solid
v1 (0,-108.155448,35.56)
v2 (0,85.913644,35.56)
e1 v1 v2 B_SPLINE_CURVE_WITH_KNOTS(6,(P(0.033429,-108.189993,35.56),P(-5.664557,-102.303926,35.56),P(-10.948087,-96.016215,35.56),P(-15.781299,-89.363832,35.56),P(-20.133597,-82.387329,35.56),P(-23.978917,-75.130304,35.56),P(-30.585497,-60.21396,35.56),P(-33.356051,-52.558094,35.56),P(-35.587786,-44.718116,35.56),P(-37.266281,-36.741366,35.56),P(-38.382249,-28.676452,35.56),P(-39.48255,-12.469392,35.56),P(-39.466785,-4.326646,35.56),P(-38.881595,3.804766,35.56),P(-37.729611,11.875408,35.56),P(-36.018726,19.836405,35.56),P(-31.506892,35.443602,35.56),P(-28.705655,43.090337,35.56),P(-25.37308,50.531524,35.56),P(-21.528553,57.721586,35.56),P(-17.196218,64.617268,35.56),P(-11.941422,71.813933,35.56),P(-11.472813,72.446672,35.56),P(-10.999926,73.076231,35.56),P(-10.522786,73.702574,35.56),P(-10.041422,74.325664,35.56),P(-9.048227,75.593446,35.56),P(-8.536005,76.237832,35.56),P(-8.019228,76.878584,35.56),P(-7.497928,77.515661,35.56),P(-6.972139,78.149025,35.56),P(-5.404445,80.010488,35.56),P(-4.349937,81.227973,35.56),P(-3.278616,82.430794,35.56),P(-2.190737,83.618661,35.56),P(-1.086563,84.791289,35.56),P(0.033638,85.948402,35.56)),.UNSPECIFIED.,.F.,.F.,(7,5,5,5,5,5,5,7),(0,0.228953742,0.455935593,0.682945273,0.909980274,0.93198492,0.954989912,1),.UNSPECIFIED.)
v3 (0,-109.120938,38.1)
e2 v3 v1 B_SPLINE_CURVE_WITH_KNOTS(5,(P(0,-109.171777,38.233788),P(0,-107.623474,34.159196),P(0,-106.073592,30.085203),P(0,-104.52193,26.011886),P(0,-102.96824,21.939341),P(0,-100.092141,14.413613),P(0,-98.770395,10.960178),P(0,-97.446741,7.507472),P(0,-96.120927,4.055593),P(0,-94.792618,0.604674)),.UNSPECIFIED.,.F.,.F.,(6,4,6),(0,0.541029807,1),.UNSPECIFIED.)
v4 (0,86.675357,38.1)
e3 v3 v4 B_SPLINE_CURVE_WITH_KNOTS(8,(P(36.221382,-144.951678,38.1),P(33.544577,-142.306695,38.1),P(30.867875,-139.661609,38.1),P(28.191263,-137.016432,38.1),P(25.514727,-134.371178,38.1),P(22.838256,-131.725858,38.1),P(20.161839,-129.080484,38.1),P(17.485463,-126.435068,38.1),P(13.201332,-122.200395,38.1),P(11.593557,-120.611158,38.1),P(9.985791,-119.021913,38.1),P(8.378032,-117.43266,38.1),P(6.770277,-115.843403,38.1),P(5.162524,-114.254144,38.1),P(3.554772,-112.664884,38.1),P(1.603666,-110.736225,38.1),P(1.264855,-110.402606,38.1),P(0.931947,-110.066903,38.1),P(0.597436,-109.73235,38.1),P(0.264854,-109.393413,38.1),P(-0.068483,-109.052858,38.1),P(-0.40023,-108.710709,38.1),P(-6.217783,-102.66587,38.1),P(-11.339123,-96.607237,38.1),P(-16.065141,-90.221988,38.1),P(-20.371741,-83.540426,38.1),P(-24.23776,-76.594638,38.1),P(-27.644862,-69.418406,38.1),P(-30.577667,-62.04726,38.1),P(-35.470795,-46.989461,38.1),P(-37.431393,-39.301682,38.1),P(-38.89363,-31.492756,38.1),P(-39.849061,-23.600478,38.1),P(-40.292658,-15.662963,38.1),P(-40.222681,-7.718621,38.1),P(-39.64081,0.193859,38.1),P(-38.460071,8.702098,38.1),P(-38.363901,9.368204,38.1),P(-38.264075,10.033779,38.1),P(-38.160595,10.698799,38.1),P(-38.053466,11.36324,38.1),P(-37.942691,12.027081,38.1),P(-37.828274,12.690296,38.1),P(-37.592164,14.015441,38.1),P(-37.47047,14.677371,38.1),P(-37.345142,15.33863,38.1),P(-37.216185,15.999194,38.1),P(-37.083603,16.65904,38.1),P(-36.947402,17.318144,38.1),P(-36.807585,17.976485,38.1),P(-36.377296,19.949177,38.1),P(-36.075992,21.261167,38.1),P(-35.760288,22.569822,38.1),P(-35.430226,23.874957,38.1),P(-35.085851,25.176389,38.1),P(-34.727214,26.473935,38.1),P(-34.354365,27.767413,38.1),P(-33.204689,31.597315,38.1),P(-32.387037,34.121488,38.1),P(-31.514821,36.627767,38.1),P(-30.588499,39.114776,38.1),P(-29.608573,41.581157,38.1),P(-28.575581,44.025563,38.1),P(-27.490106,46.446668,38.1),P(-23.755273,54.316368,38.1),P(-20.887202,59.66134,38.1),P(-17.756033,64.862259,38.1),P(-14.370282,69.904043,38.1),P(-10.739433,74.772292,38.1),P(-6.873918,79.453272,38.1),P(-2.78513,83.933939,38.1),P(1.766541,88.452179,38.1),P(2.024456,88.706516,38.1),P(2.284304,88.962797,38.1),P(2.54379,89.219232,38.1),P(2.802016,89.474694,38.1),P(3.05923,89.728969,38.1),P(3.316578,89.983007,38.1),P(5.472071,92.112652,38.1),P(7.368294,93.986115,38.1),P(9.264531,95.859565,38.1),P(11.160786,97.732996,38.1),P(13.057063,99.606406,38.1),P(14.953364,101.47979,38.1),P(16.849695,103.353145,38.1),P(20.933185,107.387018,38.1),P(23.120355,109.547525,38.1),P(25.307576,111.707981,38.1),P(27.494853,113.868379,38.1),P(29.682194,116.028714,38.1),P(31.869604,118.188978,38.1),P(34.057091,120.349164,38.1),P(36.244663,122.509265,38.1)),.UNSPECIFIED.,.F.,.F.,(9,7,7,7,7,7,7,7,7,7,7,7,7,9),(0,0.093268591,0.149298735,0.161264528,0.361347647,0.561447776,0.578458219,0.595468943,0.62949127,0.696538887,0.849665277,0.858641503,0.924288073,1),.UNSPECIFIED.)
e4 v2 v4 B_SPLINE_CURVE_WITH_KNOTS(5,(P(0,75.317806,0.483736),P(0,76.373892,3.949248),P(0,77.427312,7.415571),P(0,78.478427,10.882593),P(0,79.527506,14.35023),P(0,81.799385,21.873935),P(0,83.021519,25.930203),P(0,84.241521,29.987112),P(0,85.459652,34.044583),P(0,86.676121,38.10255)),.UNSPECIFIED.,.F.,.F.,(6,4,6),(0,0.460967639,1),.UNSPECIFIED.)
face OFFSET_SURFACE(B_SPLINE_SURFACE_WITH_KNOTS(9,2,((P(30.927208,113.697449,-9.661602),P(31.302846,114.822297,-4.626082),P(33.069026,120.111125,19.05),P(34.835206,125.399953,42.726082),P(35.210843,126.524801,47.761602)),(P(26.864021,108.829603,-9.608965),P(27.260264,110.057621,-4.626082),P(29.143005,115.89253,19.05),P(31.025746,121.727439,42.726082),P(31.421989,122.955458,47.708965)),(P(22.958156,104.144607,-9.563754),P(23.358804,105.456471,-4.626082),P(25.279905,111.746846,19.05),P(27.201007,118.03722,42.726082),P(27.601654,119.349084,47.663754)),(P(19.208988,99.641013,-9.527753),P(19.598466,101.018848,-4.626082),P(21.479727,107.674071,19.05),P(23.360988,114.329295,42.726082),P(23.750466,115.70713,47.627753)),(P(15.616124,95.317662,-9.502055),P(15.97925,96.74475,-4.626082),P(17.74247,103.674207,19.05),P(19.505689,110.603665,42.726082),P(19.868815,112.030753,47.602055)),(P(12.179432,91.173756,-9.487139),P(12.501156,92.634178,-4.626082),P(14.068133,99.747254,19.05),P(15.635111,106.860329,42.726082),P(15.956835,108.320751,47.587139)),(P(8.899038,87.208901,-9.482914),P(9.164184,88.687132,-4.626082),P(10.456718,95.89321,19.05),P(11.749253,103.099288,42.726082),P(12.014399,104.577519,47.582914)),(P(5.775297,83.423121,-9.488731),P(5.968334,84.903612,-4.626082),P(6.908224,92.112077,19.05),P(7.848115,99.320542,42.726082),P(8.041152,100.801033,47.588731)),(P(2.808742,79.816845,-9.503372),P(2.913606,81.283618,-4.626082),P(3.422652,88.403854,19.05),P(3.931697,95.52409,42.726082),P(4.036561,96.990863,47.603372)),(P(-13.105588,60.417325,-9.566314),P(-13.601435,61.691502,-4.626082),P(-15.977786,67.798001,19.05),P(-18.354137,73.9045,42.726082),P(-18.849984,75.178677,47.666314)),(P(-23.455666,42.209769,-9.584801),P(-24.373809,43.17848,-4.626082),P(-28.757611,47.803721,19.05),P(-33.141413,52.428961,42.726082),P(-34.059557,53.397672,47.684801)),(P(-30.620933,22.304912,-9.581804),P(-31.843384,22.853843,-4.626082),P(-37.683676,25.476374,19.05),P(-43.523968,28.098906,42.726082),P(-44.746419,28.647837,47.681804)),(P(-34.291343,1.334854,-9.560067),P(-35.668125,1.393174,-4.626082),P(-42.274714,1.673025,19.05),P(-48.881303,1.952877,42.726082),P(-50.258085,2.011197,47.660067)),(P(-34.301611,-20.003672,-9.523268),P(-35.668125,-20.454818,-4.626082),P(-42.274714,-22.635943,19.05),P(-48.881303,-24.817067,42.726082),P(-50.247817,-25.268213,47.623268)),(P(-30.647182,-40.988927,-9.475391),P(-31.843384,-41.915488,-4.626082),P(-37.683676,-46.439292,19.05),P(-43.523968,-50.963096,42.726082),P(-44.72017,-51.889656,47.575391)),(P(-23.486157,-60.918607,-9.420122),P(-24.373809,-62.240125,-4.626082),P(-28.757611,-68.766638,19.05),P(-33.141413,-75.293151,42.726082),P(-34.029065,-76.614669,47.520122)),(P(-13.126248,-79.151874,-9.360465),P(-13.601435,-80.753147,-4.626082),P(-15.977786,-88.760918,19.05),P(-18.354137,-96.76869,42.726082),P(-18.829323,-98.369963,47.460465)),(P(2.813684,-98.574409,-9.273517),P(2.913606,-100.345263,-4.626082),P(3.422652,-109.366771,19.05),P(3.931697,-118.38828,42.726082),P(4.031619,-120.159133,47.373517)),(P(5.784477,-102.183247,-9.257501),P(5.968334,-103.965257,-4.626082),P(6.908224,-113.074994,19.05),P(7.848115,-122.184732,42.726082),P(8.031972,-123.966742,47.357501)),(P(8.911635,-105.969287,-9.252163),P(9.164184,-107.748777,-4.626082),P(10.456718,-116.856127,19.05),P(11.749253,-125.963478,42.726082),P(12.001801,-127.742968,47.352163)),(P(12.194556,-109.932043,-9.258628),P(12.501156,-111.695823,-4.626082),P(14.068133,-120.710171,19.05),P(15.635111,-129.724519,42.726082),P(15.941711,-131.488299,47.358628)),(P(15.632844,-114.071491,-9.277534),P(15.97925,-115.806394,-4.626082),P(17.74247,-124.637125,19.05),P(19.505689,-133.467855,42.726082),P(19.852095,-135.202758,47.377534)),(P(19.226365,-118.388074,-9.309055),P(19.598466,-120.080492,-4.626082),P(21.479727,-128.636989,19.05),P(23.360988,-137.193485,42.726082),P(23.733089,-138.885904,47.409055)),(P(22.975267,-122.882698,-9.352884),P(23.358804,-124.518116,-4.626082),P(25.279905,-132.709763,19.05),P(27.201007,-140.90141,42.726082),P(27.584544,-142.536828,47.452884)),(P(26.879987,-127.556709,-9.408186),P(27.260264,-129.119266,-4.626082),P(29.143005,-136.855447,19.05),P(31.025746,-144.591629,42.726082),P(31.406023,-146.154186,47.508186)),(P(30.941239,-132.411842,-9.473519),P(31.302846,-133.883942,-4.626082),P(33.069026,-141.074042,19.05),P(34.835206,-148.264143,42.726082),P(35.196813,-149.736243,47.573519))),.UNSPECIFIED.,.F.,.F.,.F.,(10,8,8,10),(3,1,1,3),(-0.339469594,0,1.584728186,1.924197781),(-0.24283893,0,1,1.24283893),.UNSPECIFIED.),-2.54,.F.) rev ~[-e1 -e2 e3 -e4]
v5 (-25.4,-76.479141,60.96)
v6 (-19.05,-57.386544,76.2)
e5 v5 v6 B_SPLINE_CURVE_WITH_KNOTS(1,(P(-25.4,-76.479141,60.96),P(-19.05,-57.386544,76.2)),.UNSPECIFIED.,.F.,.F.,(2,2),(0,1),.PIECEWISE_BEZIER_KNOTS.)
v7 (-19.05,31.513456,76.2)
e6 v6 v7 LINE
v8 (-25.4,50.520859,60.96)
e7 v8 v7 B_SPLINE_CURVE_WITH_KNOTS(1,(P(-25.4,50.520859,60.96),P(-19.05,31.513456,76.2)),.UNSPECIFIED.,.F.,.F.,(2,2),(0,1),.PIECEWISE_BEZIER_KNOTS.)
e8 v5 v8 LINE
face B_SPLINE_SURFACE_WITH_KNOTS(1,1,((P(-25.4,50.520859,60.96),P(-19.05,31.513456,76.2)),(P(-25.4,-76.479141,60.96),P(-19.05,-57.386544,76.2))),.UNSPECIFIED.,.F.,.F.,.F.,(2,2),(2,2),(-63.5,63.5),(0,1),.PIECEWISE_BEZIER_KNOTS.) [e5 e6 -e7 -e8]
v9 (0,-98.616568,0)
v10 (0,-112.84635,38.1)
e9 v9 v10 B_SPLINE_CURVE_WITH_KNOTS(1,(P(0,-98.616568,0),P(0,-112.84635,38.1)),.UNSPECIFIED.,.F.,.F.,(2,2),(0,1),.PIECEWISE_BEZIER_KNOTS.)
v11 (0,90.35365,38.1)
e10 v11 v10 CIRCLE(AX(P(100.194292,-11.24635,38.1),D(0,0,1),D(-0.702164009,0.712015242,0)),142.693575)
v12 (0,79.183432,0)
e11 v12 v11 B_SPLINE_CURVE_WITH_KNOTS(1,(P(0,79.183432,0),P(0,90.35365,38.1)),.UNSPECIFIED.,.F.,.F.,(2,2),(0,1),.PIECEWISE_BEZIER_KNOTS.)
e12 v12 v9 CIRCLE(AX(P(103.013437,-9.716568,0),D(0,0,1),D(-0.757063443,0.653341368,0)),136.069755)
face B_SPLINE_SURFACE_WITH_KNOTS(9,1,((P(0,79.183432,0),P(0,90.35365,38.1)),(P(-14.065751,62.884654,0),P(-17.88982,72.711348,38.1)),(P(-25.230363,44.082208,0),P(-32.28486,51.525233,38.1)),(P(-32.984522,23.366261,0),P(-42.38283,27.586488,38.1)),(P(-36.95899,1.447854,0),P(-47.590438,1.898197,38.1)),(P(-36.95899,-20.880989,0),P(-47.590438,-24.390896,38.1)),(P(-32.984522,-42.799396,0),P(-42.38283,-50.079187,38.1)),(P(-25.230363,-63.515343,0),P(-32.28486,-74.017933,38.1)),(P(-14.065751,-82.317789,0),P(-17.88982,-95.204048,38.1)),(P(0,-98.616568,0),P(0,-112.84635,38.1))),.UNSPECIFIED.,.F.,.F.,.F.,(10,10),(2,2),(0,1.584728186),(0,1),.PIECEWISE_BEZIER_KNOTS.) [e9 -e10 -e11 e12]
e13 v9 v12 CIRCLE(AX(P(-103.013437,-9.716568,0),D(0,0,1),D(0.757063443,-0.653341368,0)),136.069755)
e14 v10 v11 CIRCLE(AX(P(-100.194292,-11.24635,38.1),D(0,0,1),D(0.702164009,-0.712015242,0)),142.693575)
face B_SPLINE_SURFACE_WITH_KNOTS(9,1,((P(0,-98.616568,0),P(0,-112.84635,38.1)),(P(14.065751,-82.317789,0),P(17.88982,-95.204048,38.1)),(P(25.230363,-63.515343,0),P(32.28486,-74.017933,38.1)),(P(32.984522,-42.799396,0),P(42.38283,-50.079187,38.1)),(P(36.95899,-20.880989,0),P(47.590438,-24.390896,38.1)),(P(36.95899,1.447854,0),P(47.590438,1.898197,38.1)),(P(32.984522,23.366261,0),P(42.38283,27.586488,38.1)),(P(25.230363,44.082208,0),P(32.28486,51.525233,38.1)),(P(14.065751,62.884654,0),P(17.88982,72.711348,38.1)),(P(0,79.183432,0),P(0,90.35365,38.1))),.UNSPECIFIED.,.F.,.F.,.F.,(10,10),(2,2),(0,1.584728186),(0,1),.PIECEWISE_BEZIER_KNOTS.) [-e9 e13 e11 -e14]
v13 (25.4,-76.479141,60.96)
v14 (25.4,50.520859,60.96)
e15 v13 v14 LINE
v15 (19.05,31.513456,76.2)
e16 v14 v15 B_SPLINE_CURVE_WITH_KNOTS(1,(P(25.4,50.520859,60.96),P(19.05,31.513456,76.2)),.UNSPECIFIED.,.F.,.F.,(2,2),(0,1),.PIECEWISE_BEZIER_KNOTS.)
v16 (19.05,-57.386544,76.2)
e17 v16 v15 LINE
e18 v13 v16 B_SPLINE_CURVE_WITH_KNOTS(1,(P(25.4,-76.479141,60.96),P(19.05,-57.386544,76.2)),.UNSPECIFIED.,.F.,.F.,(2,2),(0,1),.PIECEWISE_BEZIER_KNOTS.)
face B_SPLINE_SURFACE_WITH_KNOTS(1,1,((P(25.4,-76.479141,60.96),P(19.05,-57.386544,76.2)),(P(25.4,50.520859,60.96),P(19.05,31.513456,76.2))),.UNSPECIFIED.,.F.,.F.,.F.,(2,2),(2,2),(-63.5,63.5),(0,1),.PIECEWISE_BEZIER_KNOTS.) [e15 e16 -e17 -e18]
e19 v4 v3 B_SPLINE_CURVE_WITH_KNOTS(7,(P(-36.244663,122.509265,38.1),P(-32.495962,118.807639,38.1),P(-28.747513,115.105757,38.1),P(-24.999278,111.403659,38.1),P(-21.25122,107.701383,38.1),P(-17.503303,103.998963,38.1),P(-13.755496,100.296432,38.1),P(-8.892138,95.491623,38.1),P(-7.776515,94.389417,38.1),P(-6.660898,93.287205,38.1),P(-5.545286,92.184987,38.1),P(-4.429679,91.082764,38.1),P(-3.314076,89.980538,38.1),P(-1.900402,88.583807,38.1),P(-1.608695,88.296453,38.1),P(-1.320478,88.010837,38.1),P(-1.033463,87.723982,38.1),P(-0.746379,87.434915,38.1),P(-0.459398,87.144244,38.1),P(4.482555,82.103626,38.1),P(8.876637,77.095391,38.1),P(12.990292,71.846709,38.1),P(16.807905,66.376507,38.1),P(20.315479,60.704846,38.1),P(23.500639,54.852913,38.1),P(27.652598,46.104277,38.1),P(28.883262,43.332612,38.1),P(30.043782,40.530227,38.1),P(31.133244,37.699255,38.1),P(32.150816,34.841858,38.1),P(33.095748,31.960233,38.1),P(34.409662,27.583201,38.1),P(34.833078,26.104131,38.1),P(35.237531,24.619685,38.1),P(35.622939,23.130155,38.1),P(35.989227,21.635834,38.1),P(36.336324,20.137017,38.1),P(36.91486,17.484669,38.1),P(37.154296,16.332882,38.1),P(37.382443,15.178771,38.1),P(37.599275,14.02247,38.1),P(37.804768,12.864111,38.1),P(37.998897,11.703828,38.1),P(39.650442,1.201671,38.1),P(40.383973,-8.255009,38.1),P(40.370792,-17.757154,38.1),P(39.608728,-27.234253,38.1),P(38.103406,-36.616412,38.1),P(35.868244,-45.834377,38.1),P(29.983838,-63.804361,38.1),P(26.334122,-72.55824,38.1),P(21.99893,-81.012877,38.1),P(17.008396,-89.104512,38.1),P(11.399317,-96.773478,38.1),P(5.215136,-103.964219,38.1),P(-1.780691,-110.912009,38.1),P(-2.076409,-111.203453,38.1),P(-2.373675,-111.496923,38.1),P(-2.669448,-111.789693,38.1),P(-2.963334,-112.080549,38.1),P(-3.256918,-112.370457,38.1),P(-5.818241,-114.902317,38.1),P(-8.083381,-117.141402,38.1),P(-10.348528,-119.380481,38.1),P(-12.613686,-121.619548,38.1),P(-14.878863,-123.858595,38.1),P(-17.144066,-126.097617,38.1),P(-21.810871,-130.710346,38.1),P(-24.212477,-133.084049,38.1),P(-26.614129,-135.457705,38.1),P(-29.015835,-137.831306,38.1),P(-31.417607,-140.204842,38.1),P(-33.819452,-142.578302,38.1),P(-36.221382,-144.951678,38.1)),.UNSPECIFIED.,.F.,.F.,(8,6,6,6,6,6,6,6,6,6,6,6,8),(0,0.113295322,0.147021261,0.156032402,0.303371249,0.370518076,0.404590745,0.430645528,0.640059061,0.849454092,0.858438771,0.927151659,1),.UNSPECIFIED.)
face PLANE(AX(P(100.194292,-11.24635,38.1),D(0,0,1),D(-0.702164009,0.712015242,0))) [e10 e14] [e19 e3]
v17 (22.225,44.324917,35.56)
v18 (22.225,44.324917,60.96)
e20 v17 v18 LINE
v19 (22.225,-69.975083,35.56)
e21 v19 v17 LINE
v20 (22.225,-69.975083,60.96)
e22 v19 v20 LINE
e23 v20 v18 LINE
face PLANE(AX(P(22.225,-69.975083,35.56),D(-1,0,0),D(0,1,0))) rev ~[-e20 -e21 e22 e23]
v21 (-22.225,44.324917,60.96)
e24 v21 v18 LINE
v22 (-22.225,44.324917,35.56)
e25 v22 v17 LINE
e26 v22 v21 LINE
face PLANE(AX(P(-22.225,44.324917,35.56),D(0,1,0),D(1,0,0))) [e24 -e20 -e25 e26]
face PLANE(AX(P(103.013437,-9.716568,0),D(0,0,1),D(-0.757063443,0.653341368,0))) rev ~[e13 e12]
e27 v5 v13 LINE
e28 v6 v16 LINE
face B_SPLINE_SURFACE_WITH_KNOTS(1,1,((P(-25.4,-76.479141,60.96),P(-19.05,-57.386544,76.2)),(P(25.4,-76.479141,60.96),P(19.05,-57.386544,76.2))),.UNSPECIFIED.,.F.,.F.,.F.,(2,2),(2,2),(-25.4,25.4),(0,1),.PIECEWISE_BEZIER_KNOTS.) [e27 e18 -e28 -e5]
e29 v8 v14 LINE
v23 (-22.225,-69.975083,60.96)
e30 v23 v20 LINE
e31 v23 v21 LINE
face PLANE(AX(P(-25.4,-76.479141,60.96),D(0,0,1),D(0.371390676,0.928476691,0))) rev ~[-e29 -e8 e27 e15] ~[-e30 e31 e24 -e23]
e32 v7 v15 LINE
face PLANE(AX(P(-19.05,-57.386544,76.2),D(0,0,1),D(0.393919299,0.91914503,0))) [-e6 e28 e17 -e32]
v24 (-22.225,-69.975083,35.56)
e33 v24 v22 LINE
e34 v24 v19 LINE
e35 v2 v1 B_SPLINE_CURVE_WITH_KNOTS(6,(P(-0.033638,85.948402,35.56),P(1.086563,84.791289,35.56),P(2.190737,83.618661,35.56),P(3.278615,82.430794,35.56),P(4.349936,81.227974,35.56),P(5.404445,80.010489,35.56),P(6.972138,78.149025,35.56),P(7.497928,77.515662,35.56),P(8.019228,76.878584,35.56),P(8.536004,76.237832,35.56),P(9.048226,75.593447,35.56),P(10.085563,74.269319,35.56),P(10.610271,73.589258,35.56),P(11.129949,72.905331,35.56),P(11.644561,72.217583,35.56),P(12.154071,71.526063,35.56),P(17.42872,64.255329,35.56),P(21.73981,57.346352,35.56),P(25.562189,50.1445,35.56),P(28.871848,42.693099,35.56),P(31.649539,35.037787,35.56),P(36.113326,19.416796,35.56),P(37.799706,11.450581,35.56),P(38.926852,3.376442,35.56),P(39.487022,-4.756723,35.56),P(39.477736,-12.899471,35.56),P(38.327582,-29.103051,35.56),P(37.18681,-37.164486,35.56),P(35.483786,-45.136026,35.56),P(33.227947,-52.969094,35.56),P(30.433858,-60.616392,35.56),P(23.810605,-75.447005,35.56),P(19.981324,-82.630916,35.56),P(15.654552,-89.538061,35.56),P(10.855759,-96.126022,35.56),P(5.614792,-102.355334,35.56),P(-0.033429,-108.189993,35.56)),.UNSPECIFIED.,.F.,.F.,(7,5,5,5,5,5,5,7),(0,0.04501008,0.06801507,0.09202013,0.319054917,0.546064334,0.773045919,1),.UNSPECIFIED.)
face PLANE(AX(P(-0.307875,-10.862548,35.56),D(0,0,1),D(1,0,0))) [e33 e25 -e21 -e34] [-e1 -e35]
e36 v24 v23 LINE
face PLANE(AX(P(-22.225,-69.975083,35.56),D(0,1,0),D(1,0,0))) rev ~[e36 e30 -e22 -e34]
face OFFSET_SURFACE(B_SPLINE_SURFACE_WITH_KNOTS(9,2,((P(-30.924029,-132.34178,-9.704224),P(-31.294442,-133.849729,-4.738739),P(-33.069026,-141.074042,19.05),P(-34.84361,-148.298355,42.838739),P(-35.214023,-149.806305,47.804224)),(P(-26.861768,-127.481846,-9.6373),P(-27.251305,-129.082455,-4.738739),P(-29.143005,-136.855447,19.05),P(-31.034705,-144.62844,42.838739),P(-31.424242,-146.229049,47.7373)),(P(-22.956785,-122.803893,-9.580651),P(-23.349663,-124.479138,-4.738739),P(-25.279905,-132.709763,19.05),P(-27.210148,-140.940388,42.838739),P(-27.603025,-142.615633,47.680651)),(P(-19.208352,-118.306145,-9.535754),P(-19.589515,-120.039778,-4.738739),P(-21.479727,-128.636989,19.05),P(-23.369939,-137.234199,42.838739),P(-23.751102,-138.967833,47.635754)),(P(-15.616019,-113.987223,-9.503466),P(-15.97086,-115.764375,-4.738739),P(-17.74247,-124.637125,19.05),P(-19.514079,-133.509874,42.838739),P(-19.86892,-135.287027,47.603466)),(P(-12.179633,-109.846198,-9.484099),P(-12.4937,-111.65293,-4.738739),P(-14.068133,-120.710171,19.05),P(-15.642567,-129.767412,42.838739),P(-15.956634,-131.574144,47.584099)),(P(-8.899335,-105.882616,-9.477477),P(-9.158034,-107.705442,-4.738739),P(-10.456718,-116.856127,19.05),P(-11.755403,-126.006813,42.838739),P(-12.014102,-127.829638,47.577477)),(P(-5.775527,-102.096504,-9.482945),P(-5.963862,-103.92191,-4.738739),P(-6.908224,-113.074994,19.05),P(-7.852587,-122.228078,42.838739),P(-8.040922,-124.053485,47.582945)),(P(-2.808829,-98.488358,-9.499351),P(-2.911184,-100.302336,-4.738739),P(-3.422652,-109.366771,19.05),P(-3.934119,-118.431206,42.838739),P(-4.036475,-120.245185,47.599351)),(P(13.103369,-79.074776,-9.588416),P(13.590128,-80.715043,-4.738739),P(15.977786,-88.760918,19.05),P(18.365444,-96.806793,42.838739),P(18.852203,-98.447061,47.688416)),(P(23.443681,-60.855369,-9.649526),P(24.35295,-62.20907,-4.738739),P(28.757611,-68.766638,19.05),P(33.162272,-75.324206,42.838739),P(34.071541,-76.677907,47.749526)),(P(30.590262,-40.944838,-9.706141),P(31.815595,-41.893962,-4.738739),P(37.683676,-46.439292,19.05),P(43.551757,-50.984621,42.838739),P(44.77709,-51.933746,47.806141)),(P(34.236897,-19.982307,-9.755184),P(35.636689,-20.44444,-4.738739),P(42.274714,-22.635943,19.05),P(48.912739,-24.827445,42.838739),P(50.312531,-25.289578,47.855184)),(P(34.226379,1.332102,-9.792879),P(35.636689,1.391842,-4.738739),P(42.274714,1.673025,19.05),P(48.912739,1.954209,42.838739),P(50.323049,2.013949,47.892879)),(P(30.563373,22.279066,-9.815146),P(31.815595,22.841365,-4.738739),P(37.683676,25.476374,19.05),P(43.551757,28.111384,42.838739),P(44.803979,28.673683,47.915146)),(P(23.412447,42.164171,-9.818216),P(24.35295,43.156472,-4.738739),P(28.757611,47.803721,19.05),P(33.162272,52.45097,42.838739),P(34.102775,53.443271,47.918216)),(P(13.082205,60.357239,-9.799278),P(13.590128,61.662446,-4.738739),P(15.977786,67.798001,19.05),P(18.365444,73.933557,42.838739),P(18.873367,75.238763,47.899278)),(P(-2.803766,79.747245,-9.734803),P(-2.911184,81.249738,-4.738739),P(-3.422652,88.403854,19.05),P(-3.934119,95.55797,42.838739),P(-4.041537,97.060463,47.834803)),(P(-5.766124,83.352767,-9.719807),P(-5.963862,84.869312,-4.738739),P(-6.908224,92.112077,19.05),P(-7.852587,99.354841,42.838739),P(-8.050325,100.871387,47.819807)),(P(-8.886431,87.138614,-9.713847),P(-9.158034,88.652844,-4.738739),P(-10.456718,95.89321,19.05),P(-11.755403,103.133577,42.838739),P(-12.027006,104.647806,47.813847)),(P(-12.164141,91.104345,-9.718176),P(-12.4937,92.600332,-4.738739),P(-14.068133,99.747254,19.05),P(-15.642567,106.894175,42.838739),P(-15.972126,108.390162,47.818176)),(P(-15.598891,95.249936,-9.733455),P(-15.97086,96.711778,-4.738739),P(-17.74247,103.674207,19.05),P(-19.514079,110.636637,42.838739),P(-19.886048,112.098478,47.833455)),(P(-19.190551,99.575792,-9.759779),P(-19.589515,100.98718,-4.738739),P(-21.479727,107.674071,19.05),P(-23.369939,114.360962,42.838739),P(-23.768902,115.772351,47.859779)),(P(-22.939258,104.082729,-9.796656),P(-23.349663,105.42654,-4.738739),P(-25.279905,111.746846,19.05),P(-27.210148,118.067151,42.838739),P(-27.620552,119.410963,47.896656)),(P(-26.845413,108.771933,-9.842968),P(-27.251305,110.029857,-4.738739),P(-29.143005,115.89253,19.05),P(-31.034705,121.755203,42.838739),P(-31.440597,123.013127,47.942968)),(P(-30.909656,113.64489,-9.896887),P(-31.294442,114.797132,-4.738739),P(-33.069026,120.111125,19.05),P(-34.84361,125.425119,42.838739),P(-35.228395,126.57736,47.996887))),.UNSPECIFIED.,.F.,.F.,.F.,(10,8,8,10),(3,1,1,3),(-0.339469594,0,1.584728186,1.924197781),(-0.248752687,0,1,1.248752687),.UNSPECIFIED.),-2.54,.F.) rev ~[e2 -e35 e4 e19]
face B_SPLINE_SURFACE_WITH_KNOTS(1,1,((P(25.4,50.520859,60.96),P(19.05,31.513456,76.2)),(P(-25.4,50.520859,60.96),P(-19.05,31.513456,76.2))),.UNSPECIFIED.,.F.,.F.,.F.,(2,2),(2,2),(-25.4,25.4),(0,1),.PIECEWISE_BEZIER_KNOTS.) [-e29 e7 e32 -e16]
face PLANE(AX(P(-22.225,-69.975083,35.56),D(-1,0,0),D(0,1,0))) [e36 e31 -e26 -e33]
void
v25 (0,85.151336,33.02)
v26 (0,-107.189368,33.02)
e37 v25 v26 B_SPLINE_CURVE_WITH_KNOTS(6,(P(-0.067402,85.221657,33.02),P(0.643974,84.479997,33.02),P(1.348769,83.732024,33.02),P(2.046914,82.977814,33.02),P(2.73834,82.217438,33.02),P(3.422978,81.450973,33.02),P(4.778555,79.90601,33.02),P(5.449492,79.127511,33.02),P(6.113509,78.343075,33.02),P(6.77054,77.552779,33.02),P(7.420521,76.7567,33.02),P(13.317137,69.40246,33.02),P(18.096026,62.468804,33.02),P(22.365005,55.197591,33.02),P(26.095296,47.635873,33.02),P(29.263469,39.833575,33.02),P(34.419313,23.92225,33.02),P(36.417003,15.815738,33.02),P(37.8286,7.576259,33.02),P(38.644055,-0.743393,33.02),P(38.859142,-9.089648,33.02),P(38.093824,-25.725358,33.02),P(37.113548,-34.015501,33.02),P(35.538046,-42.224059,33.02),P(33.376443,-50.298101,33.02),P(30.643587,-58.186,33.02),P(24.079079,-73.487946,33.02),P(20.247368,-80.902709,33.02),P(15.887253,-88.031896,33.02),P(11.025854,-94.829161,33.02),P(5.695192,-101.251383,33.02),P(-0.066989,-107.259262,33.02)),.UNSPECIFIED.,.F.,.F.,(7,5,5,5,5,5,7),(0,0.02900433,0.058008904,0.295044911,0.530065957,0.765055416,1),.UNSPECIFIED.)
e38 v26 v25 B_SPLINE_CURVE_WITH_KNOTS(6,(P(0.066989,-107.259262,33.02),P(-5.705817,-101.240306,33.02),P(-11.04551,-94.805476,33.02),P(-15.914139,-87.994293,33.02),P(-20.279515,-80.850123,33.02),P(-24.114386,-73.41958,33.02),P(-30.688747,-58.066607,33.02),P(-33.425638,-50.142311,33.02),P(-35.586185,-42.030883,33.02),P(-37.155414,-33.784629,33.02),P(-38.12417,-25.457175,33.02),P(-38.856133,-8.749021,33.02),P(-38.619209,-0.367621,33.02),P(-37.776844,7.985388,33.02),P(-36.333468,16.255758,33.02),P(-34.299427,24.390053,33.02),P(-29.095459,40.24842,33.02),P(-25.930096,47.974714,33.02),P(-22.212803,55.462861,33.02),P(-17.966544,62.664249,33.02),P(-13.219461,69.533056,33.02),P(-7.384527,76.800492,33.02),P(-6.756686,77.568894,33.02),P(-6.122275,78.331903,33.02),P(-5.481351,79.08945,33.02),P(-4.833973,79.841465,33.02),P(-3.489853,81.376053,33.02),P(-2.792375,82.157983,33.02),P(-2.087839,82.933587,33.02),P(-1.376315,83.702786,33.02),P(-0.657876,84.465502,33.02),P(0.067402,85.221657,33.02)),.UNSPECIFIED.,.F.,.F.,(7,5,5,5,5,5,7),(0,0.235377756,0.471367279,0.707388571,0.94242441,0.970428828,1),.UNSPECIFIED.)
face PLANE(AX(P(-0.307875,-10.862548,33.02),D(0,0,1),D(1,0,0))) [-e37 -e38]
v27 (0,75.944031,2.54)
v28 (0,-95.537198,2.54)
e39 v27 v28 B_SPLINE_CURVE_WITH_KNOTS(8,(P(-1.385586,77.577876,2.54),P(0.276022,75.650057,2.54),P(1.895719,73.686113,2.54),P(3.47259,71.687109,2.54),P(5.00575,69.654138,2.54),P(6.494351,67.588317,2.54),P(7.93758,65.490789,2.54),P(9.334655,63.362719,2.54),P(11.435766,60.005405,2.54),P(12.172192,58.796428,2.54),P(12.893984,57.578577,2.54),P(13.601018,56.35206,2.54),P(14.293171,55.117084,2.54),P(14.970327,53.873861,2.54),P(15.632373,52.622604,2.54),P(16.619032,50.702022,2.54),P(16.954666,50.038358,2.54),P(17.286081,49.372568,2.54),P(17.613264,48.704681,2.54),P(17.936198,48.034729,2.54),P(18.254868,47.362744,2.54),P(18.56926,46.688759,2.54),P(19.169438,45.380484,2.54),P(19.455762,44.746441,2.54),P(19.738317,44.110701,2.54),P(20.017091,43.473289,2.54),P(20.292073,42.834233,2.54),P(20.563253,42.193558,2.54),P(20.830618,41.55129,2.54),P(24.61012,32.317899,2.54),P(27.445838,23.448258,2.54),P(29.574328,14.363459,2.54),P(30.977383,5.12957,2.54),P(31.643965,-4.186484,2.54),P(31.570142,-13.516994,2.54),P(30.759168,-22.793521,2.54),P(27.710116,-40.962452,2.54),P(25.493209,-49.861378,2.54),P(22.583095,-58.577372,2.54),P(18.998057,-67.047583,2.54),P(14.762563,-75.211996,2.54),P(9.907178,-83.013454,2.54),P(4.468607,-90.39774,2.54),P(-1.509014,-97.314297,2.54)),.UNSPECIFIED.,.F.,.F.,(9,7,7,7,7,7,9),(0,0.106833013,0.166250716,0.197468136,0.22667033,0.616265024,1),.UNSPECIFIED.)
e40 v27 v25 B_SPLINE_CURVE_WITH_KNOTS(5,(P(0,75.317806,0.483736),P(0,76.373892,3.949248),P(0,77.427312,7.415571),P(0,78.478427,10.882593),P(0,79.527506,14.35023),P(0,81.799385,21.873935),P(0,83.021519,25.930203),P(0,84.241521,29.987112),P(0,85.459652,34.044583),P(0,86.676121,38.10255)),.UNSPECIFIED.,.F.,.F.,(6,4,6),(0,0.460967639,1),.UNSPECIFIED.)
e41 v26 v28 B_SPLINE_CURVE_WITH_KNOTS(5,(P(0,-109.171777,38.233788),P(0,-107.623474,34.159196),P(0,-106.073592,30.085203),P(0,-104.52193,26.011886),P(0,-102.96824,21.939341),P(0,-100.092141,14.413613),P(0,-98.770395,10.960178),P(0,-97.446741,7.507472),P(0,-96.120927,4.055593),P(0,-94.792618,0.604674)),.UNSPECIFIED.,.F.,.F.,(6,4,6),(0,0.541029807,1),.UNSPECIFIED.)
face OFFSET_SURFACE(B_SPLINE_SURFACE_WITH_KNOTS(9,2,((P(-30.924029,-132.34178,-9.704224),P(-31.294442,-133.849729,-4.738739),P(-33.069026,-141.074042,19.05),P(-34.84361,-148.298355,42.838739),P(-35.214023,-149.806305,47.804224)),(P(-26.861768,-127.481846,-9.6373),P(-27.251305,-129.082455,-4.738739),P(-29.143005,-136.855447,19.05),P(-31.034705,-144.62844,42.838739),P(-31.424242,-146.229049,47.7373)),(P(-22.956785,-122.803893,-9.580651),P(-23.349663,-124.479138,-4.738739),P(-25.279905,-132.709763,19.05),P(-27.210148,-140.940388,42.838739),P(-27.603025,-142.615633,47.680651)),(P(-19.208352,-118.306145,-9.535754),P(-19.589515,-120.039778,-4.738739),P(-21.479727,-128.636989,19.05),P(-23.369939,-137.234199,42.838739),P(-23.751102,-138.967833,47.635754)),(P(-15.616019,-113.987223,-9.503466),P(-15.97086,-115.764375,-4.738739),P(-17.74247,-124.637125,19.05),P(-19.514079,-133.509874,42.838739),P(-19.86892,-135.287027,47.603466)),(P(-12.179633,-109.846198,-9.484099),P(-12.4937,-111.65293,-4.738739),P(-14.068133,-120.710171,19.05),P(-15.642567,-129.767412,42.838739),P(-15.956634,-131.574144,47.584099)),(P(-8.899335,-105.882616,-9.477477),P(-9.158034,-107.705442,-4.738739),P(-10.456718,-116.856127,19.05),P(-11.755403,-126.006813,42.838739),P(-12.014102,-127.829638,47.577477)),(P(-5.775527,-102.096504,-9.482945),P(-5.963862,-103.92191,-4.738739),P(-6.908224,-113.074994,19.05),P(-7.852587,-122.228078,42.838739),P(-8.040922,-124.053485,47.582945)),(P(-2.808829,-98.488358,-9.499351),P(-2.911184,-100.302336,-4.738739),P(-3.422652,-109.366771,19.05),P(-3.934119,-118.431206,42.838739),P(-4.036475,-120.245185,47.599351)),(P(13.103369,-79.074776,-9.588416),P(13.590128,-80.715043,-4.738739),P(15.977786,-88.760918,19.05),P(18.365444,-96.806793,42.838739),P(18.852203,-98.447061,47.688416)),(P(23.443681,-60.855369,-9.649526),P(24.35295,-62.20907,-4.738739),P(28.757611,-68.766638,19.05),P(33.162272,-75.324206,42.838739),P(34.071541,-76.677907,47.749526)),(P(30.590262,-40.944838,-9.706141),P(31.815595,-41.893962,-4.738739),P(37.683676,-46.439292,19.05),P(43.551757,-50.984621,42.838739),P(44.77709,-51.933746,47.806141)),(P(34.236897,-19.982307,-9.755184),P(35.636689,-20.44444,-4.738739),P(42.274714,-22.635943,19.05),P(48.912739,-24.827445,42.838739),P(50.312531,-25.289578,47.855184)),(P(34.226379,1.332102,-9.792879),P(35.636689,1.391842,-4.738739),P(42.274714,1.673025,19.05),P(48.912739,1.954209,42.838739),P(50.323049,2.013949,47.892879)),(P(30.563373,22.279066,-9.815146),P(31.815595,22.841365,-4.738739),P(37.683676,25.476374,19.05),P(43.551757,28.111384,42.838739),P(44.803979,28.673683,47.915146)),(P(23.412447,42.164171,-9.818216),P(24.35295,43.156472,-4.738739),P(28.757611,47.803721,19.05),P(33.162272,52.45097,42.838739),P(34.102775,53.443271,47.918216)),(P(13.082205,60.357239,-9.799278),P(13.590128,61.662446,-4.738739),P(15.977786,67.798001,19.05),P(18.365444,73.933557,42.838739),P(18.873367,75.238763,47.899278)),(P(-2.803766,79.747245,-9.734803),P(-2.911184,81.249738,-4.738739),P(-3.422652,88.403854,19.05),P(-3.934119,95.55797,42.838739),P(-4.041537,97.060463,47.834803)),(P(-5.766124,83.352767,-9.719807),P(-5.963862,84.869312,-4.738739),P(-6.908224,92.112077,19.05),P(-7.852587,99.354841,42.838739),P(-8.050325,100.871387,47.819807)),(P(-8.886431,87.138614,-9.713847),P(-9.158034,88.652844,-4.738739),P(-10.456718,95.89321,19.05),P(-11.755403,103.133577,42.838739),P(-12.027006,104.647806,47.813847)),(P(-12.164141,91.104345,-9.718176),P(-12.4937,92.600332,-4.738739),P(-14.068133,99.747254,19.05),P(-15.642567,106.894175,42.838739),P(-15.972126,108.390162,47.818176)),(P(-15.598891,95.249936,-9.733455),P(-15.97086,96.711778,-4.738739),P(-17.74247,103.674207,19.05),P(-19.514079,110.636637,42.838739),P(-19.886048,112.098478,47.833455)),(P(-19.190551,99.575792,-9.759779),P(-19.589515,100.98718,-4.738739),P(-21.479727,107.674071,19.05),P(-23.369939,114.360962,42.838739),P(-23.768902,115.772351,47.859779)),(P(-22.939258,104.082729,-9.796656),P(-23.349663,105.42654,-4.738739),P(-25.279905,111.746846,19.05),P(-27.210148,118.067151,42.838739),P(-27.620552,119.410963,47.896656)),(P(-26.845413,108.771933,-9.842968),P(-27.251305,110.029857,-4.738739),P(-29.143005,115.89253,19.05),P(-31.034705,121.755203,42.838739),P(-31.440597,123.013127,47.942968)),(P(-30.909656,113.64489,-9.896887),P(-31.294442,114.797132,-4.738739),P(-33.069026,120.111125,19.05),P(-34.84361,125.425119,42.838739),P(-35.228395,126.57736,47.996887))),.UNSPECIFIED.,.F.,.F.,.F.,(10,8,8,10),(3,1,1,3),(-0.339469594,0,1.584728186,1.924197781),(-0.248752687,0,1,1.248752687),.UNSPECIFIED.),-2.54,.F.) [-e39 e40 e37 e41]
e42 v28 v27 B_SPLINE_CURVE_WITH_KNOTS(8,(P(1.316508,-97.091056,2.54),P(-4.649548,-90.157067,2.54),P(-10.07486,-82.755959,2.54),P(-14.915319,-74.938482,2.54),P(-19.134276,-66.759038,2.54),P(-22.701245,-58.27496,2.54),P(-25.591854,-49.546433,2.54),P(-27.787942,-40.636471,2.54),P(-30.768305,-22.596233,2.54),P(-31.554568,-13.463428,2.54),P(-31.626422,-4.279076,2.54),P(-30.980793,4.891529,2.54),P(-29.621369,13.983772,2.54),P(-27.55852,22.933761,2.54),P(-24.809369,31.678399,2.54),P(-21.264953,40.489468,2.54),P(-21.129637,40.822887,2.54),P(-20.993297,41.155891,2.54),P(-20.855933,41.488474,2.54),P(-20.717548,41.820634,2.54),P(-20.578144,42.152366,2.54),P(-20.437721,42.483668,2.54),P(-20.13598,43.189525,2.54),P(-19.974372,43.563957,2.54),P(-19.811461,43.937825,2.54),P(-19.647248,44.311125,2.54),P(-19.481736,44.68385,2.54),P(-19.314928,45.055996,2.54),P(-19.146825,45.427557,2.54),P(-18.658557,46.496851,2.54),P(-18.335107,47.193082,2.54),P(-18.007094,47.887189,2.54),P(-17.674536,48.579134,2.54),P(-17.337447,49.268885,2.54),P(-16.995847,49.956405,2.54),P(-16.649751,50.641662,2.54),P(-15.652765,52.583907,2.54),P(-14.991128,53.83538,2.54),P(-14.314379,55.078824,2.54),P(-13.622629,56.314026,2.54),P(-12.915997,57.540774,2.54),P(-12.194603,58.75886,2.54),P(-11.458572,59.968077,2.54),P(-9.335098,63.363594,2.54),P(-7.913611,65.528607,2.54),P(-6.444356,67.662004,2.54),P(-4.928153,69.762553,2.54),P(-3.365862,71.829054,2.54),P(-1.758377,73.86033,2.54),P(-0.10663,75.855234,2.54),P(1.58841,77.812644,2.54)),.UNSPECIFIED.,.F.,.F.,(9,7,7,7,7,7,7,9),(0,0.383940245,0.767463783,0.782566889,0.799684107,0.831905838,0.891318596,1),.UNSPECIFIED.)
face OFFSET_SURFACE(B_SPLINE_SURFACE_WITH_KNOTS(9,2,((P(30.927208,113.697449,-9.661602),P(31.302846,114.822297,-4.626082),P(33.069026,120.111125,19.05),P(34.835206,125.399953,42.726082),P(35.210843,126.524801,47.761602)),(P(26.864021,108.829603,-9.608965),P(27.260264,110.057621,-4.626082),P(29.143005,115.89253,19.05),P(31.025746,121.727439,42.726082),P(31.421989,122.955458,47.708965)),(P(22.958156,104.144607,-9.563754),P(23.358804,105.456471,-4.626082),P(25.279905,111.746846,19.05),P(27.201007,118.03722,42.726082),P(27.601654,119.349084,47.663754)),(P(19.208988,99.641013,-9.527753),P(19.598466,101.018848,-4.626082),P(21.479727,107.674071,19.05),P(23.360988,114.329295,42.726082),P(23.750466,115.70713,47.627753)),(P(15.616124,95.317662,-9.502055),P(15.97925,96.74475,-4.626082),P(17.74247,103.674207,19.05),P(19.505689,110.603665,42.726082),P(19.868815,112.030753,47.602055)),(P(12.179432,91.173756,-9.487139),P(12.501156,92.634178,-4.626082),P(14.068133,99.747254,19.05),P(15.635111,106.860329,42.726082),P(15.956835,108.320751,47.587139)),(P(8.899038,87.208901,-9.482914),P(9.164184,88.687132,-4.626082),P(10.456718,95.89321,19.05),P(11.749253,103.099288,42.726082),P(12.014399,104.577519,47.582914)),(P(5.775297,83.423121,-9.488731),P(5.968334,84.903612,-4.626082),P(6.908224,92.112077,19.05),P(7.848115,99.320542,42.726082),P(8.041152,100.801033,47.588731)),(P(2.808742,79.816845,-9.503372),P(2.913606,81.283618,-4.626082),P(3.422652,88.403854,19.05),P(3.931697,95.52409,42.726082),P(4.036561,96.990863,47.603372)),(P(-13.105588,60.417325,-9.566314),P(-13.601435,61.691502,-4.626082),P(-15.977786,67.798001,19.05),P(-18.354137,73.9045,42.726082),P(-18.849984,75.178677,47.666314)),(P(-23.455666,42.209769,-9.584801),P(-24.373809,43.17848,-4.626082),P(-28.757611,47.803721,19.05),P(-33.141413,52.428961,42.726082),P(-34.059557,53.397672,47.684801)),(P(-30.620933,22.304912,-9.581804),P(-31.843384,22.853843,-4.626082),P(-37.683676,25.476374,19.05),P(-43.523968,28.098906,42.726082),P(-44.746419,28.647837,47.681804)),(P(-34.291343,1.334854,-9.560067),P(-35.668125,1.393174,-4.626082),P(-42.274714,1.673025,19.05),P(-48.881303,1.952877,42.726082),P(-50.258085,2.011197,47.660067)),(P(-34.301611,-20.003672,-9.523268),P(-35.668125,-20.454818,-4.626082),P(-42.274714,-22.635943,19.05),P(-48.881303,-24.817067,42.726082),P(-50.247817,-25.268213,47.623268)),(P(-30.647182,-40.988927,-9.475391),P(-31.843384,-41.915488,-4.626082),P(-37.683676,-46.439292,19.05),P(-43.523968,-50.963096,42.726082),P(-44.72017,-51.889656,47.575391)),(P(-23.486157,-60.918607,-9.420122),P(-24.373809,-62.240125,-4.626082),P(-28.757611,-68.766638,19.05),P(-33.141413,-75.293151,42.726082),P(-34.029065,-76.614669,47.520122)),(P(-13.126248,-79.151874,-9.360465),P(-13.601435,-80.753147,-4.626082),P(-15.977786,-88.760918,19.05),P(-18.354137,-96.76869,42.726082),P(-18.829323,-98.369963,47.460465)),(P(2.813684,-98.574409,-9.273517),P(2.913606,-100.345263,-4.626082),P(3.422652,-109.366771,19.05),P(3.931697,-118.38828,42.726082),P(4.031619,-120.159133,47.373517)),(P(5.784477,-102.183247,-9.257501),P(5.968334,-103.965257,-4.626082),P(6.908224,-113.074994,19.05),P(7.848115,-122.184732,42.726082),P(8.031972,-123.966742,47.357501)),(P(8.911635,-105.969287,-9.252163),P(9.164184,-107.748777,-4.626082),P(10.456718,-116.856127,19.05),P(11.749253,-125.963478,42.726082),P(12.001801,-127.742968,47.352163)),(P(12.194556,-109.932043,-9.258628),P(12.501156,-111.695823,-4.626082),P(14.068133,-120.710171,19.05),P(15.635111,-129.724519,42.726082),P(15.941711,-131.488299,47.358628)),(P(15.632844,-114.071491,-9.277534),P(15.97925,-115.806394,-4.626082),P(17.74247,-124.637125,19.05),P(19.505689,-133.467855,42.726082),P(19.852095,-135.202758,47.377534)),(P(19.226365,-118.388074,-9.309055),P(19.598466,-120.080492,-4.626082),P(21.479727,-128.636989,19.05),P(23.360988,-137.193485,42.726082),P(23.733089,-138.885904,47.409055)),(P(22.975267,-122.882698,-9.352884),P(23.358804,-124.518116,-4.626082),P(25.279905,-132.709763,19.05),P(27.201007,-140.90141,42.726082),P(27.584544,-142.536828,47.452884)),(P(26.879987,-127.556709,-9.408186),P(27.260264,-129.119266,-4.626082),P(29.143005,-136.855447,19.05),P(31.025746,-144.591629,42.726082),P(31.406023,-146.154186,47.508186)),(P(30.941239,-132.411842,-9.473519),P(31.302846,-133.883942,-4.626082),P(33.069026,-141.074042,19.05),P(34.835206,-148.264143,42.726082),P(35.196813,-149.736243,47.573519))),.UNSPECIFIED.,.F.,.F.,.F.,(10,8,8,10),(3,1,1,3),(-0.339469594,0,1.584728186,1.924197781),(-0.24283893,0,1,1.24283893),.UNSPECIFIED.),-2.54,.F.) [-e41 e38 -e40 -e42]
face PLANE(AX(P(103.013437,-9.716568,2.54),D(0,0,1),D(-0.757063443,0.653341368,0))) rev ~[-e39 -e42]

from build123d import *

# Parameters (mm, degrees)
F4_T     = -2.54
F7_DEPTH = 2.54
F8_W     = 44.45
F8_H     = 114.3
F9_DEPTH = 25.4
F13_W    = 50.8
F13_H    = 127
F11_W    = 38.1
F11_H    = 88.9


with BuildPart() as f3:
    # F0 (on Top) → F3 section 0
    with BuildSketch(Plane.XY):
        with BuildLine():
            ThreePointArc((0, 79.1834323877), (-33.0563178037, -9.7165676123), (0, -98.6165676123))
            ThreePointArc((0, -98.6165676123), (33.0563178037, -9.7165676123), (0, 79.1834323877))
        make_face()
    # F2 (on offset) → F3 section 1
    with BuildSketch(Plane.XY.offset(38.1)):
        with BuildLine():
            ThreePointArc((0, 90.3536503496), (-42.4992821869, -11.2463496504), (0, -112.8463496504))
            ThreePointArc((0, -112.8463496504), (42.4992821869, -11.2463496504), (0, 90.3536503496))
        make_face()
    loft()

    # F4
    f4_openings = [f3.faces().sort_by_distance(p)[0] for p in [
        (0, -11.24635, 38.1),
    ]]
    offset(amount=F4_T, openings=f4_openings)

    # F6 (on offset) → F7 (join)
    with BuildSketch(Plane.XY.offset(35.56)):
        with BuildLine():
            ThreePointArc((0, 87.4059291422), (-40.4220024881, -10.8625479043), (0, -109.1310249507))
            ThreePointArc((0, -109.1310249507), (39.5185295328, -10.8625479043), (0, 87.4059291422))
        make_face()
    extrude(amount=-F7_DEPTH)

    # F8 (on offset) → F9 (join)
    with BuildSketch(Plane.XY.offset(35.56)):
        with Locations((0, -12.8250825944)):
            Rectangle(F8_W, F8_H)
    extrude(amount=F9_DEPTH)

    # F13 (on offset) → F14 section 0
    with BuildSketch(Plane.XY.offset(60.96)):
        with Locations((0, -12.9791411197)):
            Rectangle(F13_W, F13_H)
    # F11 (on offset) → F14 section 1
    with BuildSketch(Plane.XY.offset(76.2)):
        with Locations((0, -12.9365438215)):
            Rectangle(F11_W, F11_H)
    loft()


solid = f3.part
